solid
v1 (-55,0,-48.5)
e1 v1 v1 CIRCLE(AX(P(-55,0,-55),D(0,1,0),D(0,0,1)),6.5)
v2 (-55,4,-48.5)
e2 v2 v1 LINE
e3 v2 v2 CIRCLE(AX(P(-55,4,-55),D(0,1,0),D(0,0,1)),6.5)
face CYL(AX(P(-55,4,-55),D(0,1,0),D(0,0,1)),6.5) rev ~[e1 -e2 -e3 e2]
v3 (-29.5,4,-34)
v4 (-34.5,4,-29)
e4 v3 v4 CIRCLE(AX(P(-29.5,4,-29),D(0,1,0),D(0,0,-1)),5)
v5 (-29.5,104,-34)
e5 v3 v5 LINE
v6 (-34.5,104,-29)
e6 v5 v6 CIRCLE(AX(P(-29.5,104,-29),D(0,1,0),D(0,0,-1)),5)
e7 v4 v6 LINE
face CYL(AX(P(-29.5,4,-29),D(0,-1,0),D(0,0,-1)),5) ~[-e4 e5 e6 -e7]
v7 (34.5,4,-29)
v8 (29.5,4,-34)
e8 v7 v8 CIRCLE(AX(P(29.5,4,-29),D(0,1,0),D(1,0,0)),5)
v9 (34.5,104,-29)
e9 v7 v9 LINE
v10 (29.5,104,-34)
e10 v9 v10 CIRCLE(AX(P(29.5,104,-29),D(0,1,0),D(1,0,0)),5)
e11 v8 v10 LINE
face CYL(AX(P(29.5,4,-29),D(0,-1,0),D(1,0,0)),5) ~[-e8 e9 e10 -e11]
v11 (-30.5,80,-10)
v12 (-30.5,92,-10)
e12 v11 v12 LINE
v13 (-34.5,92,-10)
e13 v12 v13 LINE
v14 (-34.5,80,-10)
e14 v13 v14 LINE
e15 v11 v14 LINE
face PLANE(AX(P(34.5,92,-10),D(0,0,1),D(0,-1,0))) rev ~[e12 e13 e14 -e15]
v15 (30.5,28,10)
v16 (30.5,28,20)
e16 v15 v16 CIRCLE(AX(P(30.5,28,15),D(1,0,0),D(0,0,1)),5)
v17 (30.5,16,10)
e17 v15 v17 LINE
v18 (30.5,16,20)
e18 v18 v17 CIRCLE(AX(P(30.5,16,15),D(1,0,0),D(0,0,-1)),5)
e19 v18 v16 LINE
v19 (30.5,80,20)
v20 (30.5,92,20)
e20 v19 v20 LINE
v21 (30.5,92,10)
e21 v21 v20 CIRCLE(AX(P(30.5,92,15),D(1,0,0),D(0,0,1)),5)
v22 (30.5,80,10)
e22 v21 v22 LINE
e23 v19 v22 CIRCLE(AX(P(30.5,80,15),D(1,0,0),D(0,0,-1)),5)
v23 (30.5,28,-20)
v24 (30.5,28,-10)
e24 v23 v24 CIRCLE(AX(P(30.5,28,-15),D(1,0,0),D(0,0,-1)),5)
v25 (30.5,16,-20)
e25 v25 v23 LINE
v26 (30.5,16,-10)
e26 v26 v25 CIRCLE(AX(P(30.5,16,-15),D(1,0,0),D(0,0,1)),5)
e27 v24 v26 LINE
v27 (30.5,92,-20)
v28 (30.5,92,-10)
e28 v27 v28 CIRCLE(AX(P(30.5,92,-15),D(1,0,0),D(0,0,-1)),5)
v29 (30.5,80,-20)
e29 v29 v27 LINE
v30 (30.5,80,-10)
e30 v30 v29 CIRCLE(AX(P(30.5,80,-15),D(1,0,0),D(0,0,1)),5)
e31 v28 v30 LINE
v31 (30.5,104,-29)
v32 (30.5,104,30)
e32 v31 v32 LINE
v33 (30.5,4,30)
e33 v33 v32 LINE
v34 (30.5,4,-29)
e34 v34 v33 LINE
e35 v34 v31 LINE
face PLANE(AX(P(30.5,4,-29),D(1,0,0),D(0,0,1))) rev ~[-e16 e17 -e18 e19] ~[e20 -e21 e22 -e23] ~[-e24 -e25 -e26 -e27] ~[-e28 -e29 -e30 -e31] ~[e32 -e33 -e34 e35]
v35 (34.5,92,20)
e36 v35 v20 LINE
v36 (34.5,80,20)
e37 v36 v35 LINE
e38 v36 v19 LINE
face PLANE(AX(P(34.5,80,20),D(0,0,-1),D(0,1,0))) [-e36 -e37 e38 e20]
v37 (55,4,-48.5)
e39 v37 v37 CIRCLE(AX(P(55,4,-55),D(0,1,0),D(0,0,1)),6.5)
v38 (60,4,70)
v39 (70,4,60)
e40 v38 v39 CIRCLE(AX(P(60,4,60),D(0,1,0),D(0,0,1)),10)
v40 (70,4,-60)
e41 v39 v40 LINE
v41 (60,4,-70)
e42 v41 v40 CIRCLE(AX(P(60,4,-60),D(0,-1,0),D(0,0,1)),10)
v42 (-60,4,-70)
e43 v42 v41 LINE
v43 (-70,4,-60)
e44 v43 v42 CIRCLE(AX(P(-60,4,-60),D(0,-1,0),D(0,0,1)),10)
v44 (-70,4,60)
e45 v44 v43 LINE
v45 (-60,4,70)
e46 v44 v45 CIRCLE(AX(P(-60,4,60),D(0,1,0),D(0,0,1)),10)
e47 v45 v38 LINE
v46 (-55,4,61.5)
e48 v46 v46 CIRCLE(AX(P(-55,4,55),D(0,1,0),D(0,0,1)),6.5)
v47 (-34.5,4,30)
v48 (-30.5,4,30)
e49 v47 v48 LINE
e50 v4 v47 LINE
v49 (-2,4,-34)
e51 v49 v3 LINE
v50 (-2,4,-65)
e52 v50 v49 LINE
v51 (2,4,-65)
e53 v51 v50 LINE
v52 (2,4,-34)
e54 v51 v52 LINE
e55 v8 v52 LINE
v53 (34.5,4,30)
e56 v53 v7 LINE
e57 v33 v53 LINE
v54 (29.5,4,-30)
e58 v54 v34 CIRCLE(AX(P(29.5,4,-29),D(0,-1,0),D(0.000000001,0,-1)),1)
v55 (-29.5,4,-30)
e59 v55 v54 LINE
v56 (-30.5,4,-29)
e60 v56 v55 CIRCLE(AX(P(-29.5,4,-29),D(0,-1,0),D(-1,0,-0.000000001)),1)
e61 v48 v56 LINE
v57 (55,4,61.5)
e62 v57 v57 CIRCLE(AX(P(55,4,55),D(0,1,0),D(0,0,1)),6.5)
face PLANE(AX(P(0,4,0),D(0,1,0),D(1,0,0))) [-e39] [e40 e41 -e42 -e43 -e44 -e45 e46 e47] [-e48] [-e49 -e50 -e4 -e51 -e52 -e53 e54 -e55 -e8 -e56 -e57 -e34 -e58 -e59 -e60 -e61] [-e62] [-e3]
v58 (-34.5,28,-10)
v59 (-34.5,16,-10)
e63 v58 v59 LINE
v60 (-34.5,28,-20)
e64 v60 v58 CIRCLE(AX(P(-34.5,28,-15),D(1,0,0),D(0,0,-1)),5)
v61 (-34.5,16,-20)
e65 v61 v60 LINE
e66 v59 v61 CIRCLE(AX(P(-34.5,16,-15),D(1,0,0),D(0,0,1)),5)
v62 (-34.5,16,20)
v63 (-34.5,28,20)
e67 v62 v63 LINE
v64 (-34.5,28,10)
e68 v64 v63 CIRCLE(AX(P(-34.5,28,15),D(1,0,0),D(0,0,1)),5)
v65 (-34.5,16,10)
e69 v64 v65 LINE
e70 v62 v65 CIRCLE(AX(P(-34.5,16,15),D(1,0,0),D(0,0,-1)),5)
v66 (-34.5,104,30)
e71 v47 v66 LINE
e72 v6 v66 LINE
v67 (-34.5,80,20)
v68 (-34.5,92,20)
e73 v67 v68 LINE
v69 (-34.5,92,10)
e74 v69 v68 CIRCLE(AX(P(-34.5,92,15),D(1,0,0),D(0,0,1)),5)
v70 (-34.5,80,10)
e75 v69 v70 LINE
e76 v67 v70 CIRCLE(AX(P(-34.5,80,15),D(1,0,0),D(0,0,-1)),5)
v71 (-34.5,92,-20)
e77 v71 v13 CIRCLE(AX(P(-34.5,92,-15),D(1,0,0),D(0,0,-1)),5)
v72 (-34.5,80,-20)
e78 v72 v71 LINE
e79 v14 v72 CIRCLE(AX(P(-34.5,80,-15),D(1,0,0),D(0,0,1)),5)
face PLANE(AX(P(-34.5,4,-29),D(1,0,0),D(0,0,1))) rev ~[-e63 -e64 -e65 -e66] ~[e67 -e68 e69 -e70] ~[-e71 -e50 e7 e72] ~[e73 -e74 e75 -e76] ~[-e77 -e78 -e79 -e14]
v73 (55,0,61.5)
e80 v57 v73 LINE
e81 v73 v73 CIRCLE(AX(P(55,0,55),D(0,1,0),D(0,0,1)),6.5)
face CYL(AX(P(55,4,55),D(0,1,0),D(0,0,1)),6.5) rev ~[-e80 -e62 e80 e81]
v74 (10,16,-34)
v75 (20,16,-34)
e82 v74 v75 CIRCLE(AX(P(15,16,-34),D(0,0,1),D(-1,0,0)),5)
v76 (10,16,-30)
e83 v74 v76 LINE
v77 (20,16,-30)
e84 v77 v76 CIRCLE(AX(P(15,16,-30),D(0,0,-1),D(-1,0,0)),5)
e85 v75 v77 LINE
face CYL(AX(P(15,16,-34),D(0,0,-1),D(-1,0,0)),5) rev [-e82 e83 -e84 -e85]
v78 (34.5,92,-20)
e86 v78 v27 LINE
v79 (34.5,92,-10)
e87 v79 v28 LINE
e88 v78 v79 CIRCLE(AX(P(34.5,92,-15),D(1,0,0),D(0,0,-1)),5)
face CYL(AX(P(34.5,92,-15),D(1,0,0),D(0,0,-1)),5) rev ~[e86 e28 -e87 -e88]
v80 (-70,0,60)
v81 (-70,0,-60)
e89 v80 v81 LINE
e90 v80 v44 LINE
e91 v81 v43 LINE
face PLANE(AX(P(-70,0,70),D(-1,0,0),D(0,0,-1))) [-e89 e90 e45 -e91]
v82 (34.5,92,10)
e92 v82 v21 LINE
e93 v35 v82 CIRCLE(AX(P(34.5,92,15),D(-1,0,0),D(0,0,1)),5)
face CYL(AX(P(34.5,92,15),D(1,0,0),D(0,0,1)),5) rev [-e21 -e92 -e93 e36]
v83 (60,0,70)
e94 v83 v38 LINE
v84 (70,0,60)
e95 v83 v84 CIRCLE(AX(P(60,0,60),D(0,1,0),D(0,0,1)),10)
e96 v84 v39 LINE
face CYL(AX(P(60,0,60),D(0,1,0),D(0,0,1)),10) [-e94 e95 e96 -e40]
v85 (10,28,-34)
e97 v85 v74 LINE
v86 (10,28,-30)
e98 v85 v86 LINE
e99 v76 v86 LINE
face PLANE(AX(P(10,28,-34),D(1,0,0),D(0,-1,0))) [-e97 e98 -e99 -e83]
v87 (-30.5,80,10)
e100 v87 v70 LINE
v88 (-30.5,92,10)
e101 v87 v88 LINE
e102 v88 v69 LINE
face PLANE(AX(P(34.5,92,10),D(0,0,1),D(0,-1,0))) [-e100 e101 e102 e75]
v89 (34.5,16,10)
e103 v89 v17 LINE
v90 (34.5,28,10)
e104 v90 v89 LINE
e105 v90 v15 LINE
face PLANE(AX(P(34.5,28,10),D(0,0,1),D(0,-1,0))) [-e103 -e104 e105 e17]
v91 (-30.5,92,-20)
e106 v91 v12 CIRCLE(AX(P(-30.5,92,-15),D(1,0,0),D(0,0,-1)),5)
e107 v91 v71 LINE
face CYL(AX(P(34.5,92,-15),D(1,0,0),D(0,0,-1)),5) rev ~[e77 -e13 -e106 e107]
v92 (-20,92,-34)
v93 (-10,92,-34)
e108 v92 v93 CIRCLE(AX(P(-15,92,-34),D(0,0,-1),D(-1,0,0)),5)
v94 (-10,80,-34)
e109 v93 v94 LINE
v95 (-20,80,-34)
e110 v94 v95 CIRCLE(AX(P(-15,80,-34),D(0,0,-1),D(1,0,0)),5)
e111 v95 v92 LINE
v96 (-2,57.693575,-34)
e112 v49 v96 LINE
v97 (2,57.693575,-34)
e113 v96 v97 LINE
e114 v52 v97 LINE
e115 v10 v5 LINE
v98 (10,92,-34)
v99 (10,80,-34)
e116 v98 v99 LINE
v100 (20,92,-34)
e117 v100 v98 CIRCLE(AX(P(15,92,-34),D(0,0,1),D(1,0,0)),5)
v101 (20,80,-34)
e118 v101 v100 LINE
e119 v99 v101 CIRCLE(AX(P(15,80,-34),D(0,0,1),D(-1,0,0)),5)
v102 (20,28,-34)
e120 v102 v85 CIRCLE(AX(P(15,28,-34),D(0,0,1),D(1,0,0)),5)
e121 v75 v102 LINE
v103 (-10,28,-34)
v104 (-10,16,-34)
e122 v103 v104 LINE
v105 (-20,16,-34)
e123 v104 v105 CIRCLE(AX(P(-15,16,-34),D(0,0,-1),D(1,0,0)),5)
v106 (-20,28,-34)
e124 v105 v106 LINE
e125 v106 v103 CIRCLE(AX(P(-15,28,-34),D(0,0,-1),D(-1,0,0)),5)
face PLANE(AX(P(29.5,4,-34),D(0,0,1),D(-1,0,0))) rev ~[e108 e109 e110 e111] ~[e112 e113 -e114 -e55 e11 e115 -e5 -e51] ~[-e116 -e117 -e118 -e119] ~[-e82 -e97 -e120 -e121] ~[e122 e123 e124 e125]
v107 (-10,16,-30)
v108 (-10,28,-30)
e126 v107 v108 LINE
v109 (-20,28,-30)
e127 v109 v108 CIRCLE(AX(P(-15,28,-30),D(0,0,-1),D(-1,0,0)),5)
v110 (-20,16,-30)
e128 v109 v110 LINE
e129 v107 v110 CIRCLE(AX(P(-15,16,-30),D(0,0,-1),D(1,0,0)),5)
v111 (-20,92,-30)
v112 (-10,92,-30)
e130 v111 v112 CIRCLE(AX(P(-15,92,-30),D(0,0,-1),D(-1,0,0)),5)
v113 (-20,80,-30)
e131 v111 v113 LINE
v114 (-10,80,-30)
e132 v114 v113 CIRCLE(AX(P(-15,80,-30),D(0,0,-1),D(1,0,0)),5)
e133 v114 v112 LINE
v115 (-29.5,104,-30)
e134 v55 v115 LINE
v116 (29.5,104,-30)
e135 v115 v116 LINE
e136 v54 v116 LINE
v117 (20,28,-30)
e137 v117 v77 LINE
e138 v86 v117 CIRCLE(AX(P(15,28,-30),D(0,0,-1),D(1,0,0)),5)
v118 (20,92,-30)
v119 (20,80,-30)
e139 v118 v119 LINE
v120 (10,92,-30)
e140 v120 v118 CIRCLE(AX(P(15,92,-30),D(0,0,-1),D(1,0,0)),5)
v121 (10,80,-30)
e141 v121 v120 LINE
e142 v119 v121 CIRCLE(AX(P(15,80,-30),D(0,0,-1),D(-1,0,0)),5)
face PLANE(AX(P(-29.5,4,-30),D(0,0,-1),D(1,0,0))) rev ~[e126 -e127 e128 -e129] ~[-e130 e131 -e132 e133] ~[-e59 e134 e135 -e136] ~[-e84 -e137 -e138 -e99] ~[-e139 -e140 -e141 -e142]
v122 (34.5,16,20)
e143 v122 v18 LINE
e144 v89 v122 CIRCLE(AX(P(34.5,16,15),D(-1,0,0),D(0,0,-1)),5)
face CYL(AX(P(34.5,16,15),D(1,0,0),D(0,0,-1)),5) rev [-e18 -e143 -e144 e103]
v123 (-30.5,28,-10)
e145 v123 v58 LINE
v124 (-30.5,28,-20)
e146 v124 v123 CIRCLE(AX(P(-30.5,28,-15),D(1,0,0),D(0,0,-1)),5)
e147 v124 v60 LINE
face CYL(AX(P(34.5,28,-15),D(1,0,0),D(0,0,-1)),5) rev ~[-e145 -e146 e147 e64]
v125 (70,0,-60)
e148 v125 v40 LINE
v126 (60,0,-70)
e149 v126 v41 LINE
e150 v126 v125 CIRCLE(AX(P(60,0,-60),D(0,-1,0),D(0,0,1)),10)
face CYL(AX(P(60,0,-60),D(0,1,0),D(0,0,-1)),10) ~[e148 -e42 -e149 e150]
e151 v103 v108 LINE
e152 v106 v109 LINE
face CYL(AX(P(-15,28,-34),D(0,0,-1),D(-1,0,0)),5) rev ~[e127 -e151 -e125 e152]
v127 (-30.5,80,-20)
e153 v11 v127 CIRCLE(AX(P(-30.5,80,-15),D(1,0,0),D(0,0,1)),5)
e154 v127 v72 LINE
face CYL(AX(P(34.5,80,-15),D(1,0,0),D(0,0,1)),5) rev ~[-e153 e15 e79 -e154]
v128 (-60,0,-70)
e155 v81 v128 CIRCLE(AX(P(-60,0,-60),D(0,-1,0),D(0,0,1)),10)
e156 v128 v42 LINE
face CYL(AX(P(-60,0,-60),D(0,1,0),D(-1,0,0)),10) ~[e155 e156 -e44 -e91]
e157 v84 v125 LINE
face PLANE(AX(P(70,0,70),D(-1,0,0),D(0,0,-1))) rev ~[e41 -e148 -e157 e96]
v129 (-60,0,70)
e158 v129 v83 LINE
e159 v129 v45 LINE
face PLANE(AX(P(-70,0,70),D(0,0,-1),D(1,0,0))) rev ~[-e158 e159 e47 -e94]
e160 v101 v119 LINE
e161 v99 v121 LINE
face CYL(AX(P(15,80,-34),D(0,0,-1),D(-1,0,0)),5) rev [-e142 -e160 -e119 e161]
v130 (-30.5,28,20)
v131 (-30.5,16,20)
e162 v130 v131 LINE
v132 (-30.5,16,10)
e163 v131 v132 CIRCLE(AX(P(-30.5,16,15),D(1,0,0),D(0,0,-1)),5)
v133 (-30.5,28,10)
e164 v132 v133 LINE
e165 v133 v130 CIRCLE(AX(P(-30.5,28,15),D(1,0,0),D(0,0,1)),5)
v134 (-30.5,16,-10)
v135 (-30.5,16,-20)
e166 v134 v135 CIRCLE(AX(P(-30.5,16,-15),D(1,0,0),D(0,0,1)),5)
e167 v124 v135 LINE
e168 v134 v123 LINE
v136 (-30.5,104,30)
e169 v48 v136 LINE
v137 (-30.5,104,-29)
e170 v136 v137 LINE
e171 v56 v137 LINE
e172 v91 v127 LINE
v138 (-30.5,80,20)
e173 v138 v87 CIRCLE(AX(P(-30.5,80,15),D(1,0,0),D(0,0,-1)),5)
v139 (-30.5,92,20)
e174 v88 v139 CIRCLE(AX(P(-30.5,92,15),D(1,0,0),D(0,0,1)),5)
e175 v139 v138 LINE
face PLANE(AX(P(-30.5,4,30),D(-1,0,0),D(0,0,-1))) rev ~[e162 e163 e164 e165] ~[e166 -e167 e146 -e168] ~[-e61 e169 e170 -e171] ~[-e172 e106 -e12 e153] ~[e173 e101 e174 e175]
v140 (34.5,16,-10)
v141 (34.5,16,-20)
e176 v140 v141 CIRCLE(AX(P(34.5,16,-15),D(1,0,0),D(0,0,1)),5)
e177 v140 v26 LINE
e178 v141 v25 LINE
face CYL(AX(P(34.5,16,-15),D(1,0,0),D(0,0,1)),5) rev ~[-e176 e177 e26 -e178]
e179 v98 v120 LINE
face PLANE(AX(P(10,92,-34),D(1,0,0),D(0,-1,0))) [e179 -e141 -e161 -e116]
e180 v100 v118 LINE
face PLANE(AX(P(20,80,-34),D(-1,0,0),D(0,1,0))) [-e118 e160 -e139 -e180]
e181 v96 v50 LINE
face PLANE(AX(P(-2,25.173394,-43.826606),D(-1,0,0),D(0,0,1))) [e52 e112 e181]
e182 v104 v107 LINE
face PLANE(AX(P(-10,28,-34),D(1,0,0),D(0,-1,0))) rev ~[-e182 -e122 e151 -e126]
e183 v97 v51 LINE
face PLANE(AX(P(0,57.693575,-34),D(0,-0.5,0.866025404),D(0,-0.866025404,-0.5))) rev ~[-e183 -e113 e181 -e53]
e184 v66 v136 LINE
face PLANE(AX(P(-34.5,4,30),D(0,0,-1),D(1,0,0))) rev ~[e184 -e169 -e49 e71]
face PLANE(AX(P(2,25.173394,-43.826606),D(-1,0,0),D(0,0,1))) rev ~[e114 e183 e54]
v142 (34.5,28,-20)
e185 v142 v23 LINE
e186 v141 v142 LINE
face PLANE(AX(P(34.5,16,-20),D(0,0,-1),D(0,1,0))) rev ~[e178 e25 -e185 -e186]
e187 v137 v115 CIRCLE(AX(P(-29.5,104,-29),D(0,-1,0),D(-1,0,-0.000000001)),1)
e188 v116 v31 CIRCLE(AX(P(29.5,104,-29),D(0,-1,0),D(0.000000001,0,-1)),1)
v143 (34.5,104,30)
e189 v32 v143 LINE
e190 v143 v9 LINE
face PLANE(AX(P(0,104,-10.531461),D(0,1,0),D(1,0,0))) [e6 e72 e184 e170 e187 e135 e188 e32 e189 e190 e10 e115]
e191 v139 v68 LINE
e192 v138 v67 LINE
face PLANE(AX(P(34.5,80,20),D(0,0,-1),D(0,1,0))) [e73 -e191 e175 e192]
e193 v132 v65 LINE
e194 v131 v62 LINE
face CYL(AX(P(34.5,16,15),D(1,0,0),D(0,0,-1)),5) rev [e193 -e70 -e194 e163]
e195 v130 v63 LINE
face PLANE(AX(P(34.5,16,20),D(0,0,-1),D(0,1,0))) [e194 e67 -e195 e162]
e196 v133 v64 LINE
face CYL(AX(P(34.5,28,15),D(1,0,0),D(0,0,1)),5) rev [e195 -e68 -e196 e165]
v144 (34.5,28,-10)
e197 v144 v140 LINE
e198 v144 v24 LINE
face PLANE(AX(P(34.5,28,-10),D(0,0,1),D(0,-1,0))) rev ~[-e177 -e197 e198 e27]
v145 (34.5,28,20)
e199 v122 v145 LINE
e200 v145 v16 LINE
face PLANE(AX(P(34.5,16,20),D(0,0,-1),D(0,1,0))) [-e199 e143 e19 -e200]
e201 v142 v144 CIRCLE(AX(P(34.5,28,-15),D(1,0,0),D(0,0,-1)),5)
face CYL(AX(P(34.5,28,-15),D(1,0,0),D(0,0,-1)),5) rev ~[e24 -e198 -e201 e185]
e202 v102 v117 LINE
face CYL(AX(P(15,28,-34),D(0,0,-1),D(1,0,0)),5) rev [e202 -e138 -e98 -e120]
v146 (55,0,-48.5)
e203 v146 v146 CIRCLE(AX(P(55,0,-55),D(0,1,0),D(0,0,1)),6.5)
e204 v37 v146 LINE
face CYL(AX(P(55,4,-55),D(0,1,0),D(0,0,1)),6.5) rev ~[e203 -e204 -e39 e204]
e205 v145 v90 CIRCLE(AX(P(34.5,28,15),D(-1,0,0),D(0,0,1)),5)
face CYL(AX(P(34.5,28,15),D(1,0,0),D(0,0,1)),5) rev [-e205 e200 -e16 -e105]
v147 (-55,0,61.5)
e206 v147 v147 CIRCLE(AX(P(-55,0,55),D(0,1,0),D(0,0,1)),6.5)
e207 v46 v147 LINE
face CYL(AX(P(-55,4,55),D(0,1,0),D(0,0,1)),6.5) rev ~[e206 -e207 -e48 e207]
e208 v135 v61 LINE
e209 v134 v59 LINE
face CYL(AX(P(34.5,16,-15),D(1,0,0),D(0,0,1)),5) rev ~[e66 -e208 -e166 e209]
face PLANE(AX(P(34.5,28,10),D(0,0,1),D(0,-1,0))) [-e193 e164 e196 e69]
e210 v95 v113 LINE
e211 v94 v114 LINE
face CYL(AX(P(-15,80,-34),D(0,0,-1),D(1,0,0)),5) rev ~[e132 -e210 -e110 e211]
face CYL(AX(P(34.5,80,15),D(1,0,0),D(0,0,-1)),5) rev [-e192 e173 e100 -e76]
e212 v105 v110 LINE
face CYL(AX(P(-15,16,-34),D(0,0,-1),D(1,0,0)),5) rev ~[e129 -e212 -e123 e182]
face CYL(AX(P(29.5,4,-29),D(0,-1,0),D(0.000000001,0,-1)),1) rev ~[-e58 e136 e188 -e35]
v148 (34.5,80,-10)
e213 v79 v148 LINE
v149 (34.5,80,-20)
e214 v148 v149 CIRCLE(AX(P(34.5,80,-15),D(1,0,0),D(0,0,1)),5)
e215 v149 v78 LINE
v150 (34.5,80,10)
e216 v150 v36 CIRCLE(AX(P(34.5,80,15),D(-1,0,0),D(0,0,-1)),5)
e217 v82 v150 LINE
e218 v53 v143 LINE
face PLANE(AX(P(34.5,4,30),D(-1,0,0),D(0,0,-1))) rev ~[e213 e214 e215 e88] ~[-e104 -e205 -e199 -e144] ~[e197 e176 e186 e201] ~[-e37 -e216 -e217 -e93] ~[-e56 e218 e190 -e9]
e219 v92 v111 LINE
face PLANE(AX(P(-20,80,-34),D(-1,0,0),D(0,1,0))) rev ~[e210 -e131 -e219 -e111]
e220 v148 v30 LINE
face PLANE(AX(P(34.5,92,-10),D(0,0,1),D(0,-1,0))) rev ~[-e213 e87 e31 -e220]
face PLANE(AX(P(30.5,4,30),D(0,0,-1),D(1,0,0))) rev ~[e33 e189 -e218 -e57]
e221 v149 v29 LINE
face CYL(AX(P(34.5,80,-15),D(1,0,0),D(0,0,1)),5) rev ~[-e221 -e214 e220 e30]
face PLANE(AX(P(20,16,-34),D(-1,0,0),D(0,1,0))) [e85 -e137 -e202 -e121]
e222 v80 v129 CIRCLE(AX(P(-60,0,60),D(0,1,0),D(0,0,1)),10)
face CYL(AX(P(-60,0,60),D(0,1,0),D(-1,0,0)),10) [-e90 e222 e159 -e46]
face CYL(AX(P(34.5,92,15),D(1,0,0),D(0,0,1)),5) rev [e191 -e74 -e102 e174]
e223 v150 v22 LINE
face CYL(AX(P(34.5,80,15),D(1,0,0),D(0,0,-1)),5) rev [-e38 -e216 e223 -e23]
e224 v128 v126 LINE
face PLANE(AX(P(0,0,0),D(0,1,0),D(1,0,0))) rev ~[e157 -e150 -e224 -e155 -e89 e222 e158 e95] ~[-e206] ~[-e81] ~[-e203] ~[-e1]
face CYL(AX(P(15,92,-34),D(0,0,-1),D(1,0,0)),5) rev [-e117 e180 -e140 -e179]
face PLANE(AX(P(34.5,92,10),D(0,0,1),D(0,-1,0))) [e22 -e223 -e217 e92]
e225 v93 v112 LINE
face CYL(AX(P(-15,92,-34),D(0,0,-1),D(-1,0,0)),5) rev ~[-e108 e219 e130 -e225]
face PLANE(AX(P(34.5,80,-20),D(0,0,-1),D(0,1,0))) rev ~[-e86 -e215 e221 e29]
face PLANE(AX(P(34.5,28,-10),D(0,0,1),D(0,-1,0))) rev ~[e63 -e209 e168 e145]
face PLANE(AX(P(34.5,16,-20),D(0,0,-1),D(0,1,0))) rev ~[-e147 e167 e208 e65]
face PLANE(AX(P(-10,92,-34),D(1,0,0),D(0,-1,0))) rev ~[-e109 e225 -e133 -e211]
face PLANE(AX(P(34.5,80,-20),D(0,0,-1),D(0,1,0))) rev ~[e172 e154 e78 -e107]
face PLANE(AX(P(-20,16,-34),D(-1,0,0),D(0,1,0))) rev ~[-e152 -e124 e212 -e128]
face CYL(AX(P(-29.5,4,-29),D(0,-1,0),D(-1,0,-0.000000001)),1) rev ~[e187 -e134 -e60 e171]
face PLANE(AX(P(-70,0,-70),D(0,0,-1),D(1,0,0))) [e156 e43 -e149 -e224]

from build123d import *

# Parameters (mm, degrees)
SKETCH_2_W          = 140
SKETCH_2_H          = 140
EXTRUDE_1_DEPTH     = 4
EXTRUDE_1_2_DEPTH   = 100
EXTRUDE_2_DEPTH     = 2
CUT_EXTRUDE_1_DEPTH = 105.5
SKETCH_6_R          = 6.5
CUT_EXTRUDE_2_DEPTH = 5
FILLET_1_R          = 10
CUT_EXTRUDE_3_REACH = 106


with BuildPart() as part:
    # Эскиз2 → Extrude 1 (new body)
    with BuildSketch(Plane(origin=(0, 0, 0), x_dir=(1, 0, 0), z_dir=(0, 1, 0))):
        Rectangle(SKETCH_2_W, SKETCH_2_H)
    extrude(amount=EXTRUDE_1_DEPTH)

    # Эскиз3 → Extrude 1 2 (add)
    with BuildSketch(Plane(origin=(0, 4, 0), x_dir=(1, 0, 0), z_dir=(0, 1, 0))):
        with BuildLine():
            Line((-30.5, -30), (-30.5, 29))
            ThreePointArc((-30.5, 29), (-30.207106781, 29.707106781), (-29.5, 30))
            Line((-29.5, 30), (29.5, 30))
            ThreePointArc((29.5, 30), (30.207106781, 29.707106781), (30.5, 29))
            Line((30.5, 29), (30.5, -30))
            Line((30.5, -30), (34.5, -30))
            Line((34.5, -30), (34.5, 29))
            ThreePointArc((34.5, 29), (33.035533906, 32.535533906), (29.5, 34))
            Line((29.5, 34), (-29.5, 34))
            ThreePointArc((-29.5, 34), (-33.035533906, 32.535533906), (-34.5, 29))
            Line((-34.5, 29), (-34.5, -30))
            Line((-34.5, -30), (-30.5, -30))
        make_face()
    extrude(amount=EXTRUDE_1_2_DEPTH)

    # Эскиз4 → Бобышка-Вытянуть2 (add, symmetric)
    with BuildSketch(Plane(origin=(0, 0, 0), x_dir=(0, 0, -1), z_dir=(1, 0, 0))):
        Polygon((34, 57.693575035), (65, 4), (34, 4), align=None)
    extrude(amount=EXTRUDE_2_DEPTH, both=True)

    # Эскиз5 → Вырез-Вытянуть1 (cut, through all)
    with BuildSketch(Plane(origin=(34.5, 0, 0), x_dir=(0, 0, -1), z_dir=(1, 0, 0))):
        with BuildLine():
            Line((-10, 92), (-10, 80))
            ThreePointArc((-10, 80), (-15, 75), (-20, 80))
            Line((-20, 80), (-20, 92))
            ThreePointArc((-20, 92), (-15, 97), (-10, 92))
        make_face()
        with BuildLine():
            Line((-10, 28), (-10, 16))
            ThreePointArc((-10, 16), (-15, 11), (-20, 16))
            Line((-20, 16), (-20, 28))
            ThreePointArc((-20, 28), (-15, 33), (-10, 28))
        make_face()
        with BuildLine():
            Line((10, 92), (10, 80))
            ThreePointArc((10, 80), (15, 75), (20, 80))
            Line((20, 80), (20, 92))
            ThreePointArc((20, 92), (15, 97), (10, 92))
        make_face()
        with BuildLine():
            Line((10, 28), (10, 16))
            ThreePointArc((10, 16), (15, 11), (20, 16))
            Line((20, 16), (20, 28))
            ThreePointArc((20, 28), (15, 33), (10, 28))
        make_face()
    extrude(amount=-CUT_EXTRUDE_1_DEPTH, mode=Mode.SUBTRACT)

    # Эскиз6 → Вырез-Вытянуть2 (cut, through all)
    with BuildSketch(Plane(origin=(0, 4, 0), x_dir=(1, 0, 0), z_dir=(0, 1, 0))):
        with Locations(Location((-55, 55, 0), (0, 0, 270))):  # turned: the seam where the file's is
            Circle(SKETCH_6_R)
        with Locations(Location((-55, -55, 0), (0, 0, 270))):  # turned: the seam where the file's is
            Circle(SKETCH_6_R)
        with Locations(Location((55, 55, 0), (0, 0, 270))):  # turned: the seam where the file's is
            Circle(SKETCH_6_R)
        with Locations(Location((55, -55, 0), (0, 0, 270))):  # turned: the seam where the file's is
            Circle(SKETCH_6_R)
    extrude(amount=-CUT_EXTRUDE_2_DEPTH, mode=Mode.SUBTRACT)

    # Скругление1
    fillet_1_edges = [part.edges().sort_by_distance(p)[0] for p in [
        (70, 2, 70),
        (-70, 2, 70),
        (-70, 2, -70),
        (70, 2, -70),
    ]]
    fillet(fillet_1_edges, radius=FILLET_1_R)

    # Эскиз8 → Вырез-Вытянуть3 (cut, up to next)
    with BuildSketch(Plane(origin=(0, 0, -34), x_dir=(-1, 0, 0), z_dir=(0, 0, -1)), mode=Mode.PRIVATE) as cut_extrude_3_sk1:
        with BuildLine():
            Line((-10, 92), (-10, 80))
            ThreePointArc((-10, 80), (-15, 75), (-20, 80))
            Line((-20, 80), (-20, 92))
            ThreePointArc((-20, 92), (-15, 97), (-10, 92))
        make_face()
    cut_extrude_3_tool1 = extrude(cut_extrude_3_sk1.sketch, amount=-CUT_EXTRUDE_3_REACH, mode=Mode.PRIVATE) & part.part
    add(cut_extrude_3_tool1.solids().sort_by_distance((15, 86, -34))[0], mode=Mode.SUBTRACT)
    # Эскиз8 → Вырез-Вытянуть3 (cut, up to next)
    with BuildSketch(Plane(origin=(0, 0, -34), x_dir=(-1, 0, 0), z_dir=(0, 0, -1)), mode=Mode.PRIVATE) as cut_extrude_3_sk2:
        with BuildLine():
            Line((-10, 28), (-10, 16))
            ThreePointArc((-10, 16), (-15, 11), (-20, 16))
            Line((-20, 16), (-20, 28))
            ThreePointArc((-20, 28), (-15, 33), (-10, 28))
        make_face()
    cut_extrude_3_tool2 = extrude(cut_extrude_3_sk2.sketch, amount=-CUT_EXTRUDE_3_REACH, mode=Mode.PRIVATE) & part.part
    add(cut_extrude_3_tool2.solids().sort_by_distance((15, 22, -34))[0], mode=Mode.SUBTRACT)
    # Эскиз8 → Вырез-Вытянуть3 (cut, up to next)
    with BuildSketch(Plane(origin=(0, 0, -34), x_dir=(-1, 0, 0), z_dir=(0, 0, -1)), mode=Mode.PRIVATE) as cut_extrude_3_sk3:
        with BuildLine():
            Line((10, 92), (10, 80))
            ThreePointArc((10, 80), (15, 75), (20, 80))
            Line((20, 80), (20, 92))
            ThreePointArc((20, 92), (15, 97), (10, 92))
        make_face()
    cut_extrude_3_tool3 = extrude(cut_extrude_3_sk3.sketch, amount=-CUT_EXTRUDE_3_REACH, mode=Mode.PRIVATE) & part.part
    add(cut_extrude_3_tool3.solids().sort_by_distance((-15, 86, -34))[0], mode=Mode.SUBTRACT)
    # Эскиз8 → Вырез-Вытянуть3 (cut, up to next)
    with BuildSketch(Plane(origin=(0, 0, -34), x_dir=(-1, 0, 0), z_dir=(0, 0, -1)), mode=Mode.PRIVATE) as cut_extrude_3_sk4:
        with BuildLine():
            Line((10, 28), (10, 16))
            ThreePointArc((10, 16), (15, 11), (20, 16))
            Line((20, 16), (20, 28))
            ThreePointArc((20, 28), (15, 33), (10, 28))
        make_face()
    cut_extrude_3_tool4 = extrude(cut_extrude_3_sk4.sketch, amount=-CUT_EXTRUDE_3_REACH, mode=Mode.PRIVATE) & part.part
    add(cut_extrude_3_tool4.solids().sort_by_distance((-15, 22, -34))[0], mode=Mode.SUBTRACT)


solid = part.part
